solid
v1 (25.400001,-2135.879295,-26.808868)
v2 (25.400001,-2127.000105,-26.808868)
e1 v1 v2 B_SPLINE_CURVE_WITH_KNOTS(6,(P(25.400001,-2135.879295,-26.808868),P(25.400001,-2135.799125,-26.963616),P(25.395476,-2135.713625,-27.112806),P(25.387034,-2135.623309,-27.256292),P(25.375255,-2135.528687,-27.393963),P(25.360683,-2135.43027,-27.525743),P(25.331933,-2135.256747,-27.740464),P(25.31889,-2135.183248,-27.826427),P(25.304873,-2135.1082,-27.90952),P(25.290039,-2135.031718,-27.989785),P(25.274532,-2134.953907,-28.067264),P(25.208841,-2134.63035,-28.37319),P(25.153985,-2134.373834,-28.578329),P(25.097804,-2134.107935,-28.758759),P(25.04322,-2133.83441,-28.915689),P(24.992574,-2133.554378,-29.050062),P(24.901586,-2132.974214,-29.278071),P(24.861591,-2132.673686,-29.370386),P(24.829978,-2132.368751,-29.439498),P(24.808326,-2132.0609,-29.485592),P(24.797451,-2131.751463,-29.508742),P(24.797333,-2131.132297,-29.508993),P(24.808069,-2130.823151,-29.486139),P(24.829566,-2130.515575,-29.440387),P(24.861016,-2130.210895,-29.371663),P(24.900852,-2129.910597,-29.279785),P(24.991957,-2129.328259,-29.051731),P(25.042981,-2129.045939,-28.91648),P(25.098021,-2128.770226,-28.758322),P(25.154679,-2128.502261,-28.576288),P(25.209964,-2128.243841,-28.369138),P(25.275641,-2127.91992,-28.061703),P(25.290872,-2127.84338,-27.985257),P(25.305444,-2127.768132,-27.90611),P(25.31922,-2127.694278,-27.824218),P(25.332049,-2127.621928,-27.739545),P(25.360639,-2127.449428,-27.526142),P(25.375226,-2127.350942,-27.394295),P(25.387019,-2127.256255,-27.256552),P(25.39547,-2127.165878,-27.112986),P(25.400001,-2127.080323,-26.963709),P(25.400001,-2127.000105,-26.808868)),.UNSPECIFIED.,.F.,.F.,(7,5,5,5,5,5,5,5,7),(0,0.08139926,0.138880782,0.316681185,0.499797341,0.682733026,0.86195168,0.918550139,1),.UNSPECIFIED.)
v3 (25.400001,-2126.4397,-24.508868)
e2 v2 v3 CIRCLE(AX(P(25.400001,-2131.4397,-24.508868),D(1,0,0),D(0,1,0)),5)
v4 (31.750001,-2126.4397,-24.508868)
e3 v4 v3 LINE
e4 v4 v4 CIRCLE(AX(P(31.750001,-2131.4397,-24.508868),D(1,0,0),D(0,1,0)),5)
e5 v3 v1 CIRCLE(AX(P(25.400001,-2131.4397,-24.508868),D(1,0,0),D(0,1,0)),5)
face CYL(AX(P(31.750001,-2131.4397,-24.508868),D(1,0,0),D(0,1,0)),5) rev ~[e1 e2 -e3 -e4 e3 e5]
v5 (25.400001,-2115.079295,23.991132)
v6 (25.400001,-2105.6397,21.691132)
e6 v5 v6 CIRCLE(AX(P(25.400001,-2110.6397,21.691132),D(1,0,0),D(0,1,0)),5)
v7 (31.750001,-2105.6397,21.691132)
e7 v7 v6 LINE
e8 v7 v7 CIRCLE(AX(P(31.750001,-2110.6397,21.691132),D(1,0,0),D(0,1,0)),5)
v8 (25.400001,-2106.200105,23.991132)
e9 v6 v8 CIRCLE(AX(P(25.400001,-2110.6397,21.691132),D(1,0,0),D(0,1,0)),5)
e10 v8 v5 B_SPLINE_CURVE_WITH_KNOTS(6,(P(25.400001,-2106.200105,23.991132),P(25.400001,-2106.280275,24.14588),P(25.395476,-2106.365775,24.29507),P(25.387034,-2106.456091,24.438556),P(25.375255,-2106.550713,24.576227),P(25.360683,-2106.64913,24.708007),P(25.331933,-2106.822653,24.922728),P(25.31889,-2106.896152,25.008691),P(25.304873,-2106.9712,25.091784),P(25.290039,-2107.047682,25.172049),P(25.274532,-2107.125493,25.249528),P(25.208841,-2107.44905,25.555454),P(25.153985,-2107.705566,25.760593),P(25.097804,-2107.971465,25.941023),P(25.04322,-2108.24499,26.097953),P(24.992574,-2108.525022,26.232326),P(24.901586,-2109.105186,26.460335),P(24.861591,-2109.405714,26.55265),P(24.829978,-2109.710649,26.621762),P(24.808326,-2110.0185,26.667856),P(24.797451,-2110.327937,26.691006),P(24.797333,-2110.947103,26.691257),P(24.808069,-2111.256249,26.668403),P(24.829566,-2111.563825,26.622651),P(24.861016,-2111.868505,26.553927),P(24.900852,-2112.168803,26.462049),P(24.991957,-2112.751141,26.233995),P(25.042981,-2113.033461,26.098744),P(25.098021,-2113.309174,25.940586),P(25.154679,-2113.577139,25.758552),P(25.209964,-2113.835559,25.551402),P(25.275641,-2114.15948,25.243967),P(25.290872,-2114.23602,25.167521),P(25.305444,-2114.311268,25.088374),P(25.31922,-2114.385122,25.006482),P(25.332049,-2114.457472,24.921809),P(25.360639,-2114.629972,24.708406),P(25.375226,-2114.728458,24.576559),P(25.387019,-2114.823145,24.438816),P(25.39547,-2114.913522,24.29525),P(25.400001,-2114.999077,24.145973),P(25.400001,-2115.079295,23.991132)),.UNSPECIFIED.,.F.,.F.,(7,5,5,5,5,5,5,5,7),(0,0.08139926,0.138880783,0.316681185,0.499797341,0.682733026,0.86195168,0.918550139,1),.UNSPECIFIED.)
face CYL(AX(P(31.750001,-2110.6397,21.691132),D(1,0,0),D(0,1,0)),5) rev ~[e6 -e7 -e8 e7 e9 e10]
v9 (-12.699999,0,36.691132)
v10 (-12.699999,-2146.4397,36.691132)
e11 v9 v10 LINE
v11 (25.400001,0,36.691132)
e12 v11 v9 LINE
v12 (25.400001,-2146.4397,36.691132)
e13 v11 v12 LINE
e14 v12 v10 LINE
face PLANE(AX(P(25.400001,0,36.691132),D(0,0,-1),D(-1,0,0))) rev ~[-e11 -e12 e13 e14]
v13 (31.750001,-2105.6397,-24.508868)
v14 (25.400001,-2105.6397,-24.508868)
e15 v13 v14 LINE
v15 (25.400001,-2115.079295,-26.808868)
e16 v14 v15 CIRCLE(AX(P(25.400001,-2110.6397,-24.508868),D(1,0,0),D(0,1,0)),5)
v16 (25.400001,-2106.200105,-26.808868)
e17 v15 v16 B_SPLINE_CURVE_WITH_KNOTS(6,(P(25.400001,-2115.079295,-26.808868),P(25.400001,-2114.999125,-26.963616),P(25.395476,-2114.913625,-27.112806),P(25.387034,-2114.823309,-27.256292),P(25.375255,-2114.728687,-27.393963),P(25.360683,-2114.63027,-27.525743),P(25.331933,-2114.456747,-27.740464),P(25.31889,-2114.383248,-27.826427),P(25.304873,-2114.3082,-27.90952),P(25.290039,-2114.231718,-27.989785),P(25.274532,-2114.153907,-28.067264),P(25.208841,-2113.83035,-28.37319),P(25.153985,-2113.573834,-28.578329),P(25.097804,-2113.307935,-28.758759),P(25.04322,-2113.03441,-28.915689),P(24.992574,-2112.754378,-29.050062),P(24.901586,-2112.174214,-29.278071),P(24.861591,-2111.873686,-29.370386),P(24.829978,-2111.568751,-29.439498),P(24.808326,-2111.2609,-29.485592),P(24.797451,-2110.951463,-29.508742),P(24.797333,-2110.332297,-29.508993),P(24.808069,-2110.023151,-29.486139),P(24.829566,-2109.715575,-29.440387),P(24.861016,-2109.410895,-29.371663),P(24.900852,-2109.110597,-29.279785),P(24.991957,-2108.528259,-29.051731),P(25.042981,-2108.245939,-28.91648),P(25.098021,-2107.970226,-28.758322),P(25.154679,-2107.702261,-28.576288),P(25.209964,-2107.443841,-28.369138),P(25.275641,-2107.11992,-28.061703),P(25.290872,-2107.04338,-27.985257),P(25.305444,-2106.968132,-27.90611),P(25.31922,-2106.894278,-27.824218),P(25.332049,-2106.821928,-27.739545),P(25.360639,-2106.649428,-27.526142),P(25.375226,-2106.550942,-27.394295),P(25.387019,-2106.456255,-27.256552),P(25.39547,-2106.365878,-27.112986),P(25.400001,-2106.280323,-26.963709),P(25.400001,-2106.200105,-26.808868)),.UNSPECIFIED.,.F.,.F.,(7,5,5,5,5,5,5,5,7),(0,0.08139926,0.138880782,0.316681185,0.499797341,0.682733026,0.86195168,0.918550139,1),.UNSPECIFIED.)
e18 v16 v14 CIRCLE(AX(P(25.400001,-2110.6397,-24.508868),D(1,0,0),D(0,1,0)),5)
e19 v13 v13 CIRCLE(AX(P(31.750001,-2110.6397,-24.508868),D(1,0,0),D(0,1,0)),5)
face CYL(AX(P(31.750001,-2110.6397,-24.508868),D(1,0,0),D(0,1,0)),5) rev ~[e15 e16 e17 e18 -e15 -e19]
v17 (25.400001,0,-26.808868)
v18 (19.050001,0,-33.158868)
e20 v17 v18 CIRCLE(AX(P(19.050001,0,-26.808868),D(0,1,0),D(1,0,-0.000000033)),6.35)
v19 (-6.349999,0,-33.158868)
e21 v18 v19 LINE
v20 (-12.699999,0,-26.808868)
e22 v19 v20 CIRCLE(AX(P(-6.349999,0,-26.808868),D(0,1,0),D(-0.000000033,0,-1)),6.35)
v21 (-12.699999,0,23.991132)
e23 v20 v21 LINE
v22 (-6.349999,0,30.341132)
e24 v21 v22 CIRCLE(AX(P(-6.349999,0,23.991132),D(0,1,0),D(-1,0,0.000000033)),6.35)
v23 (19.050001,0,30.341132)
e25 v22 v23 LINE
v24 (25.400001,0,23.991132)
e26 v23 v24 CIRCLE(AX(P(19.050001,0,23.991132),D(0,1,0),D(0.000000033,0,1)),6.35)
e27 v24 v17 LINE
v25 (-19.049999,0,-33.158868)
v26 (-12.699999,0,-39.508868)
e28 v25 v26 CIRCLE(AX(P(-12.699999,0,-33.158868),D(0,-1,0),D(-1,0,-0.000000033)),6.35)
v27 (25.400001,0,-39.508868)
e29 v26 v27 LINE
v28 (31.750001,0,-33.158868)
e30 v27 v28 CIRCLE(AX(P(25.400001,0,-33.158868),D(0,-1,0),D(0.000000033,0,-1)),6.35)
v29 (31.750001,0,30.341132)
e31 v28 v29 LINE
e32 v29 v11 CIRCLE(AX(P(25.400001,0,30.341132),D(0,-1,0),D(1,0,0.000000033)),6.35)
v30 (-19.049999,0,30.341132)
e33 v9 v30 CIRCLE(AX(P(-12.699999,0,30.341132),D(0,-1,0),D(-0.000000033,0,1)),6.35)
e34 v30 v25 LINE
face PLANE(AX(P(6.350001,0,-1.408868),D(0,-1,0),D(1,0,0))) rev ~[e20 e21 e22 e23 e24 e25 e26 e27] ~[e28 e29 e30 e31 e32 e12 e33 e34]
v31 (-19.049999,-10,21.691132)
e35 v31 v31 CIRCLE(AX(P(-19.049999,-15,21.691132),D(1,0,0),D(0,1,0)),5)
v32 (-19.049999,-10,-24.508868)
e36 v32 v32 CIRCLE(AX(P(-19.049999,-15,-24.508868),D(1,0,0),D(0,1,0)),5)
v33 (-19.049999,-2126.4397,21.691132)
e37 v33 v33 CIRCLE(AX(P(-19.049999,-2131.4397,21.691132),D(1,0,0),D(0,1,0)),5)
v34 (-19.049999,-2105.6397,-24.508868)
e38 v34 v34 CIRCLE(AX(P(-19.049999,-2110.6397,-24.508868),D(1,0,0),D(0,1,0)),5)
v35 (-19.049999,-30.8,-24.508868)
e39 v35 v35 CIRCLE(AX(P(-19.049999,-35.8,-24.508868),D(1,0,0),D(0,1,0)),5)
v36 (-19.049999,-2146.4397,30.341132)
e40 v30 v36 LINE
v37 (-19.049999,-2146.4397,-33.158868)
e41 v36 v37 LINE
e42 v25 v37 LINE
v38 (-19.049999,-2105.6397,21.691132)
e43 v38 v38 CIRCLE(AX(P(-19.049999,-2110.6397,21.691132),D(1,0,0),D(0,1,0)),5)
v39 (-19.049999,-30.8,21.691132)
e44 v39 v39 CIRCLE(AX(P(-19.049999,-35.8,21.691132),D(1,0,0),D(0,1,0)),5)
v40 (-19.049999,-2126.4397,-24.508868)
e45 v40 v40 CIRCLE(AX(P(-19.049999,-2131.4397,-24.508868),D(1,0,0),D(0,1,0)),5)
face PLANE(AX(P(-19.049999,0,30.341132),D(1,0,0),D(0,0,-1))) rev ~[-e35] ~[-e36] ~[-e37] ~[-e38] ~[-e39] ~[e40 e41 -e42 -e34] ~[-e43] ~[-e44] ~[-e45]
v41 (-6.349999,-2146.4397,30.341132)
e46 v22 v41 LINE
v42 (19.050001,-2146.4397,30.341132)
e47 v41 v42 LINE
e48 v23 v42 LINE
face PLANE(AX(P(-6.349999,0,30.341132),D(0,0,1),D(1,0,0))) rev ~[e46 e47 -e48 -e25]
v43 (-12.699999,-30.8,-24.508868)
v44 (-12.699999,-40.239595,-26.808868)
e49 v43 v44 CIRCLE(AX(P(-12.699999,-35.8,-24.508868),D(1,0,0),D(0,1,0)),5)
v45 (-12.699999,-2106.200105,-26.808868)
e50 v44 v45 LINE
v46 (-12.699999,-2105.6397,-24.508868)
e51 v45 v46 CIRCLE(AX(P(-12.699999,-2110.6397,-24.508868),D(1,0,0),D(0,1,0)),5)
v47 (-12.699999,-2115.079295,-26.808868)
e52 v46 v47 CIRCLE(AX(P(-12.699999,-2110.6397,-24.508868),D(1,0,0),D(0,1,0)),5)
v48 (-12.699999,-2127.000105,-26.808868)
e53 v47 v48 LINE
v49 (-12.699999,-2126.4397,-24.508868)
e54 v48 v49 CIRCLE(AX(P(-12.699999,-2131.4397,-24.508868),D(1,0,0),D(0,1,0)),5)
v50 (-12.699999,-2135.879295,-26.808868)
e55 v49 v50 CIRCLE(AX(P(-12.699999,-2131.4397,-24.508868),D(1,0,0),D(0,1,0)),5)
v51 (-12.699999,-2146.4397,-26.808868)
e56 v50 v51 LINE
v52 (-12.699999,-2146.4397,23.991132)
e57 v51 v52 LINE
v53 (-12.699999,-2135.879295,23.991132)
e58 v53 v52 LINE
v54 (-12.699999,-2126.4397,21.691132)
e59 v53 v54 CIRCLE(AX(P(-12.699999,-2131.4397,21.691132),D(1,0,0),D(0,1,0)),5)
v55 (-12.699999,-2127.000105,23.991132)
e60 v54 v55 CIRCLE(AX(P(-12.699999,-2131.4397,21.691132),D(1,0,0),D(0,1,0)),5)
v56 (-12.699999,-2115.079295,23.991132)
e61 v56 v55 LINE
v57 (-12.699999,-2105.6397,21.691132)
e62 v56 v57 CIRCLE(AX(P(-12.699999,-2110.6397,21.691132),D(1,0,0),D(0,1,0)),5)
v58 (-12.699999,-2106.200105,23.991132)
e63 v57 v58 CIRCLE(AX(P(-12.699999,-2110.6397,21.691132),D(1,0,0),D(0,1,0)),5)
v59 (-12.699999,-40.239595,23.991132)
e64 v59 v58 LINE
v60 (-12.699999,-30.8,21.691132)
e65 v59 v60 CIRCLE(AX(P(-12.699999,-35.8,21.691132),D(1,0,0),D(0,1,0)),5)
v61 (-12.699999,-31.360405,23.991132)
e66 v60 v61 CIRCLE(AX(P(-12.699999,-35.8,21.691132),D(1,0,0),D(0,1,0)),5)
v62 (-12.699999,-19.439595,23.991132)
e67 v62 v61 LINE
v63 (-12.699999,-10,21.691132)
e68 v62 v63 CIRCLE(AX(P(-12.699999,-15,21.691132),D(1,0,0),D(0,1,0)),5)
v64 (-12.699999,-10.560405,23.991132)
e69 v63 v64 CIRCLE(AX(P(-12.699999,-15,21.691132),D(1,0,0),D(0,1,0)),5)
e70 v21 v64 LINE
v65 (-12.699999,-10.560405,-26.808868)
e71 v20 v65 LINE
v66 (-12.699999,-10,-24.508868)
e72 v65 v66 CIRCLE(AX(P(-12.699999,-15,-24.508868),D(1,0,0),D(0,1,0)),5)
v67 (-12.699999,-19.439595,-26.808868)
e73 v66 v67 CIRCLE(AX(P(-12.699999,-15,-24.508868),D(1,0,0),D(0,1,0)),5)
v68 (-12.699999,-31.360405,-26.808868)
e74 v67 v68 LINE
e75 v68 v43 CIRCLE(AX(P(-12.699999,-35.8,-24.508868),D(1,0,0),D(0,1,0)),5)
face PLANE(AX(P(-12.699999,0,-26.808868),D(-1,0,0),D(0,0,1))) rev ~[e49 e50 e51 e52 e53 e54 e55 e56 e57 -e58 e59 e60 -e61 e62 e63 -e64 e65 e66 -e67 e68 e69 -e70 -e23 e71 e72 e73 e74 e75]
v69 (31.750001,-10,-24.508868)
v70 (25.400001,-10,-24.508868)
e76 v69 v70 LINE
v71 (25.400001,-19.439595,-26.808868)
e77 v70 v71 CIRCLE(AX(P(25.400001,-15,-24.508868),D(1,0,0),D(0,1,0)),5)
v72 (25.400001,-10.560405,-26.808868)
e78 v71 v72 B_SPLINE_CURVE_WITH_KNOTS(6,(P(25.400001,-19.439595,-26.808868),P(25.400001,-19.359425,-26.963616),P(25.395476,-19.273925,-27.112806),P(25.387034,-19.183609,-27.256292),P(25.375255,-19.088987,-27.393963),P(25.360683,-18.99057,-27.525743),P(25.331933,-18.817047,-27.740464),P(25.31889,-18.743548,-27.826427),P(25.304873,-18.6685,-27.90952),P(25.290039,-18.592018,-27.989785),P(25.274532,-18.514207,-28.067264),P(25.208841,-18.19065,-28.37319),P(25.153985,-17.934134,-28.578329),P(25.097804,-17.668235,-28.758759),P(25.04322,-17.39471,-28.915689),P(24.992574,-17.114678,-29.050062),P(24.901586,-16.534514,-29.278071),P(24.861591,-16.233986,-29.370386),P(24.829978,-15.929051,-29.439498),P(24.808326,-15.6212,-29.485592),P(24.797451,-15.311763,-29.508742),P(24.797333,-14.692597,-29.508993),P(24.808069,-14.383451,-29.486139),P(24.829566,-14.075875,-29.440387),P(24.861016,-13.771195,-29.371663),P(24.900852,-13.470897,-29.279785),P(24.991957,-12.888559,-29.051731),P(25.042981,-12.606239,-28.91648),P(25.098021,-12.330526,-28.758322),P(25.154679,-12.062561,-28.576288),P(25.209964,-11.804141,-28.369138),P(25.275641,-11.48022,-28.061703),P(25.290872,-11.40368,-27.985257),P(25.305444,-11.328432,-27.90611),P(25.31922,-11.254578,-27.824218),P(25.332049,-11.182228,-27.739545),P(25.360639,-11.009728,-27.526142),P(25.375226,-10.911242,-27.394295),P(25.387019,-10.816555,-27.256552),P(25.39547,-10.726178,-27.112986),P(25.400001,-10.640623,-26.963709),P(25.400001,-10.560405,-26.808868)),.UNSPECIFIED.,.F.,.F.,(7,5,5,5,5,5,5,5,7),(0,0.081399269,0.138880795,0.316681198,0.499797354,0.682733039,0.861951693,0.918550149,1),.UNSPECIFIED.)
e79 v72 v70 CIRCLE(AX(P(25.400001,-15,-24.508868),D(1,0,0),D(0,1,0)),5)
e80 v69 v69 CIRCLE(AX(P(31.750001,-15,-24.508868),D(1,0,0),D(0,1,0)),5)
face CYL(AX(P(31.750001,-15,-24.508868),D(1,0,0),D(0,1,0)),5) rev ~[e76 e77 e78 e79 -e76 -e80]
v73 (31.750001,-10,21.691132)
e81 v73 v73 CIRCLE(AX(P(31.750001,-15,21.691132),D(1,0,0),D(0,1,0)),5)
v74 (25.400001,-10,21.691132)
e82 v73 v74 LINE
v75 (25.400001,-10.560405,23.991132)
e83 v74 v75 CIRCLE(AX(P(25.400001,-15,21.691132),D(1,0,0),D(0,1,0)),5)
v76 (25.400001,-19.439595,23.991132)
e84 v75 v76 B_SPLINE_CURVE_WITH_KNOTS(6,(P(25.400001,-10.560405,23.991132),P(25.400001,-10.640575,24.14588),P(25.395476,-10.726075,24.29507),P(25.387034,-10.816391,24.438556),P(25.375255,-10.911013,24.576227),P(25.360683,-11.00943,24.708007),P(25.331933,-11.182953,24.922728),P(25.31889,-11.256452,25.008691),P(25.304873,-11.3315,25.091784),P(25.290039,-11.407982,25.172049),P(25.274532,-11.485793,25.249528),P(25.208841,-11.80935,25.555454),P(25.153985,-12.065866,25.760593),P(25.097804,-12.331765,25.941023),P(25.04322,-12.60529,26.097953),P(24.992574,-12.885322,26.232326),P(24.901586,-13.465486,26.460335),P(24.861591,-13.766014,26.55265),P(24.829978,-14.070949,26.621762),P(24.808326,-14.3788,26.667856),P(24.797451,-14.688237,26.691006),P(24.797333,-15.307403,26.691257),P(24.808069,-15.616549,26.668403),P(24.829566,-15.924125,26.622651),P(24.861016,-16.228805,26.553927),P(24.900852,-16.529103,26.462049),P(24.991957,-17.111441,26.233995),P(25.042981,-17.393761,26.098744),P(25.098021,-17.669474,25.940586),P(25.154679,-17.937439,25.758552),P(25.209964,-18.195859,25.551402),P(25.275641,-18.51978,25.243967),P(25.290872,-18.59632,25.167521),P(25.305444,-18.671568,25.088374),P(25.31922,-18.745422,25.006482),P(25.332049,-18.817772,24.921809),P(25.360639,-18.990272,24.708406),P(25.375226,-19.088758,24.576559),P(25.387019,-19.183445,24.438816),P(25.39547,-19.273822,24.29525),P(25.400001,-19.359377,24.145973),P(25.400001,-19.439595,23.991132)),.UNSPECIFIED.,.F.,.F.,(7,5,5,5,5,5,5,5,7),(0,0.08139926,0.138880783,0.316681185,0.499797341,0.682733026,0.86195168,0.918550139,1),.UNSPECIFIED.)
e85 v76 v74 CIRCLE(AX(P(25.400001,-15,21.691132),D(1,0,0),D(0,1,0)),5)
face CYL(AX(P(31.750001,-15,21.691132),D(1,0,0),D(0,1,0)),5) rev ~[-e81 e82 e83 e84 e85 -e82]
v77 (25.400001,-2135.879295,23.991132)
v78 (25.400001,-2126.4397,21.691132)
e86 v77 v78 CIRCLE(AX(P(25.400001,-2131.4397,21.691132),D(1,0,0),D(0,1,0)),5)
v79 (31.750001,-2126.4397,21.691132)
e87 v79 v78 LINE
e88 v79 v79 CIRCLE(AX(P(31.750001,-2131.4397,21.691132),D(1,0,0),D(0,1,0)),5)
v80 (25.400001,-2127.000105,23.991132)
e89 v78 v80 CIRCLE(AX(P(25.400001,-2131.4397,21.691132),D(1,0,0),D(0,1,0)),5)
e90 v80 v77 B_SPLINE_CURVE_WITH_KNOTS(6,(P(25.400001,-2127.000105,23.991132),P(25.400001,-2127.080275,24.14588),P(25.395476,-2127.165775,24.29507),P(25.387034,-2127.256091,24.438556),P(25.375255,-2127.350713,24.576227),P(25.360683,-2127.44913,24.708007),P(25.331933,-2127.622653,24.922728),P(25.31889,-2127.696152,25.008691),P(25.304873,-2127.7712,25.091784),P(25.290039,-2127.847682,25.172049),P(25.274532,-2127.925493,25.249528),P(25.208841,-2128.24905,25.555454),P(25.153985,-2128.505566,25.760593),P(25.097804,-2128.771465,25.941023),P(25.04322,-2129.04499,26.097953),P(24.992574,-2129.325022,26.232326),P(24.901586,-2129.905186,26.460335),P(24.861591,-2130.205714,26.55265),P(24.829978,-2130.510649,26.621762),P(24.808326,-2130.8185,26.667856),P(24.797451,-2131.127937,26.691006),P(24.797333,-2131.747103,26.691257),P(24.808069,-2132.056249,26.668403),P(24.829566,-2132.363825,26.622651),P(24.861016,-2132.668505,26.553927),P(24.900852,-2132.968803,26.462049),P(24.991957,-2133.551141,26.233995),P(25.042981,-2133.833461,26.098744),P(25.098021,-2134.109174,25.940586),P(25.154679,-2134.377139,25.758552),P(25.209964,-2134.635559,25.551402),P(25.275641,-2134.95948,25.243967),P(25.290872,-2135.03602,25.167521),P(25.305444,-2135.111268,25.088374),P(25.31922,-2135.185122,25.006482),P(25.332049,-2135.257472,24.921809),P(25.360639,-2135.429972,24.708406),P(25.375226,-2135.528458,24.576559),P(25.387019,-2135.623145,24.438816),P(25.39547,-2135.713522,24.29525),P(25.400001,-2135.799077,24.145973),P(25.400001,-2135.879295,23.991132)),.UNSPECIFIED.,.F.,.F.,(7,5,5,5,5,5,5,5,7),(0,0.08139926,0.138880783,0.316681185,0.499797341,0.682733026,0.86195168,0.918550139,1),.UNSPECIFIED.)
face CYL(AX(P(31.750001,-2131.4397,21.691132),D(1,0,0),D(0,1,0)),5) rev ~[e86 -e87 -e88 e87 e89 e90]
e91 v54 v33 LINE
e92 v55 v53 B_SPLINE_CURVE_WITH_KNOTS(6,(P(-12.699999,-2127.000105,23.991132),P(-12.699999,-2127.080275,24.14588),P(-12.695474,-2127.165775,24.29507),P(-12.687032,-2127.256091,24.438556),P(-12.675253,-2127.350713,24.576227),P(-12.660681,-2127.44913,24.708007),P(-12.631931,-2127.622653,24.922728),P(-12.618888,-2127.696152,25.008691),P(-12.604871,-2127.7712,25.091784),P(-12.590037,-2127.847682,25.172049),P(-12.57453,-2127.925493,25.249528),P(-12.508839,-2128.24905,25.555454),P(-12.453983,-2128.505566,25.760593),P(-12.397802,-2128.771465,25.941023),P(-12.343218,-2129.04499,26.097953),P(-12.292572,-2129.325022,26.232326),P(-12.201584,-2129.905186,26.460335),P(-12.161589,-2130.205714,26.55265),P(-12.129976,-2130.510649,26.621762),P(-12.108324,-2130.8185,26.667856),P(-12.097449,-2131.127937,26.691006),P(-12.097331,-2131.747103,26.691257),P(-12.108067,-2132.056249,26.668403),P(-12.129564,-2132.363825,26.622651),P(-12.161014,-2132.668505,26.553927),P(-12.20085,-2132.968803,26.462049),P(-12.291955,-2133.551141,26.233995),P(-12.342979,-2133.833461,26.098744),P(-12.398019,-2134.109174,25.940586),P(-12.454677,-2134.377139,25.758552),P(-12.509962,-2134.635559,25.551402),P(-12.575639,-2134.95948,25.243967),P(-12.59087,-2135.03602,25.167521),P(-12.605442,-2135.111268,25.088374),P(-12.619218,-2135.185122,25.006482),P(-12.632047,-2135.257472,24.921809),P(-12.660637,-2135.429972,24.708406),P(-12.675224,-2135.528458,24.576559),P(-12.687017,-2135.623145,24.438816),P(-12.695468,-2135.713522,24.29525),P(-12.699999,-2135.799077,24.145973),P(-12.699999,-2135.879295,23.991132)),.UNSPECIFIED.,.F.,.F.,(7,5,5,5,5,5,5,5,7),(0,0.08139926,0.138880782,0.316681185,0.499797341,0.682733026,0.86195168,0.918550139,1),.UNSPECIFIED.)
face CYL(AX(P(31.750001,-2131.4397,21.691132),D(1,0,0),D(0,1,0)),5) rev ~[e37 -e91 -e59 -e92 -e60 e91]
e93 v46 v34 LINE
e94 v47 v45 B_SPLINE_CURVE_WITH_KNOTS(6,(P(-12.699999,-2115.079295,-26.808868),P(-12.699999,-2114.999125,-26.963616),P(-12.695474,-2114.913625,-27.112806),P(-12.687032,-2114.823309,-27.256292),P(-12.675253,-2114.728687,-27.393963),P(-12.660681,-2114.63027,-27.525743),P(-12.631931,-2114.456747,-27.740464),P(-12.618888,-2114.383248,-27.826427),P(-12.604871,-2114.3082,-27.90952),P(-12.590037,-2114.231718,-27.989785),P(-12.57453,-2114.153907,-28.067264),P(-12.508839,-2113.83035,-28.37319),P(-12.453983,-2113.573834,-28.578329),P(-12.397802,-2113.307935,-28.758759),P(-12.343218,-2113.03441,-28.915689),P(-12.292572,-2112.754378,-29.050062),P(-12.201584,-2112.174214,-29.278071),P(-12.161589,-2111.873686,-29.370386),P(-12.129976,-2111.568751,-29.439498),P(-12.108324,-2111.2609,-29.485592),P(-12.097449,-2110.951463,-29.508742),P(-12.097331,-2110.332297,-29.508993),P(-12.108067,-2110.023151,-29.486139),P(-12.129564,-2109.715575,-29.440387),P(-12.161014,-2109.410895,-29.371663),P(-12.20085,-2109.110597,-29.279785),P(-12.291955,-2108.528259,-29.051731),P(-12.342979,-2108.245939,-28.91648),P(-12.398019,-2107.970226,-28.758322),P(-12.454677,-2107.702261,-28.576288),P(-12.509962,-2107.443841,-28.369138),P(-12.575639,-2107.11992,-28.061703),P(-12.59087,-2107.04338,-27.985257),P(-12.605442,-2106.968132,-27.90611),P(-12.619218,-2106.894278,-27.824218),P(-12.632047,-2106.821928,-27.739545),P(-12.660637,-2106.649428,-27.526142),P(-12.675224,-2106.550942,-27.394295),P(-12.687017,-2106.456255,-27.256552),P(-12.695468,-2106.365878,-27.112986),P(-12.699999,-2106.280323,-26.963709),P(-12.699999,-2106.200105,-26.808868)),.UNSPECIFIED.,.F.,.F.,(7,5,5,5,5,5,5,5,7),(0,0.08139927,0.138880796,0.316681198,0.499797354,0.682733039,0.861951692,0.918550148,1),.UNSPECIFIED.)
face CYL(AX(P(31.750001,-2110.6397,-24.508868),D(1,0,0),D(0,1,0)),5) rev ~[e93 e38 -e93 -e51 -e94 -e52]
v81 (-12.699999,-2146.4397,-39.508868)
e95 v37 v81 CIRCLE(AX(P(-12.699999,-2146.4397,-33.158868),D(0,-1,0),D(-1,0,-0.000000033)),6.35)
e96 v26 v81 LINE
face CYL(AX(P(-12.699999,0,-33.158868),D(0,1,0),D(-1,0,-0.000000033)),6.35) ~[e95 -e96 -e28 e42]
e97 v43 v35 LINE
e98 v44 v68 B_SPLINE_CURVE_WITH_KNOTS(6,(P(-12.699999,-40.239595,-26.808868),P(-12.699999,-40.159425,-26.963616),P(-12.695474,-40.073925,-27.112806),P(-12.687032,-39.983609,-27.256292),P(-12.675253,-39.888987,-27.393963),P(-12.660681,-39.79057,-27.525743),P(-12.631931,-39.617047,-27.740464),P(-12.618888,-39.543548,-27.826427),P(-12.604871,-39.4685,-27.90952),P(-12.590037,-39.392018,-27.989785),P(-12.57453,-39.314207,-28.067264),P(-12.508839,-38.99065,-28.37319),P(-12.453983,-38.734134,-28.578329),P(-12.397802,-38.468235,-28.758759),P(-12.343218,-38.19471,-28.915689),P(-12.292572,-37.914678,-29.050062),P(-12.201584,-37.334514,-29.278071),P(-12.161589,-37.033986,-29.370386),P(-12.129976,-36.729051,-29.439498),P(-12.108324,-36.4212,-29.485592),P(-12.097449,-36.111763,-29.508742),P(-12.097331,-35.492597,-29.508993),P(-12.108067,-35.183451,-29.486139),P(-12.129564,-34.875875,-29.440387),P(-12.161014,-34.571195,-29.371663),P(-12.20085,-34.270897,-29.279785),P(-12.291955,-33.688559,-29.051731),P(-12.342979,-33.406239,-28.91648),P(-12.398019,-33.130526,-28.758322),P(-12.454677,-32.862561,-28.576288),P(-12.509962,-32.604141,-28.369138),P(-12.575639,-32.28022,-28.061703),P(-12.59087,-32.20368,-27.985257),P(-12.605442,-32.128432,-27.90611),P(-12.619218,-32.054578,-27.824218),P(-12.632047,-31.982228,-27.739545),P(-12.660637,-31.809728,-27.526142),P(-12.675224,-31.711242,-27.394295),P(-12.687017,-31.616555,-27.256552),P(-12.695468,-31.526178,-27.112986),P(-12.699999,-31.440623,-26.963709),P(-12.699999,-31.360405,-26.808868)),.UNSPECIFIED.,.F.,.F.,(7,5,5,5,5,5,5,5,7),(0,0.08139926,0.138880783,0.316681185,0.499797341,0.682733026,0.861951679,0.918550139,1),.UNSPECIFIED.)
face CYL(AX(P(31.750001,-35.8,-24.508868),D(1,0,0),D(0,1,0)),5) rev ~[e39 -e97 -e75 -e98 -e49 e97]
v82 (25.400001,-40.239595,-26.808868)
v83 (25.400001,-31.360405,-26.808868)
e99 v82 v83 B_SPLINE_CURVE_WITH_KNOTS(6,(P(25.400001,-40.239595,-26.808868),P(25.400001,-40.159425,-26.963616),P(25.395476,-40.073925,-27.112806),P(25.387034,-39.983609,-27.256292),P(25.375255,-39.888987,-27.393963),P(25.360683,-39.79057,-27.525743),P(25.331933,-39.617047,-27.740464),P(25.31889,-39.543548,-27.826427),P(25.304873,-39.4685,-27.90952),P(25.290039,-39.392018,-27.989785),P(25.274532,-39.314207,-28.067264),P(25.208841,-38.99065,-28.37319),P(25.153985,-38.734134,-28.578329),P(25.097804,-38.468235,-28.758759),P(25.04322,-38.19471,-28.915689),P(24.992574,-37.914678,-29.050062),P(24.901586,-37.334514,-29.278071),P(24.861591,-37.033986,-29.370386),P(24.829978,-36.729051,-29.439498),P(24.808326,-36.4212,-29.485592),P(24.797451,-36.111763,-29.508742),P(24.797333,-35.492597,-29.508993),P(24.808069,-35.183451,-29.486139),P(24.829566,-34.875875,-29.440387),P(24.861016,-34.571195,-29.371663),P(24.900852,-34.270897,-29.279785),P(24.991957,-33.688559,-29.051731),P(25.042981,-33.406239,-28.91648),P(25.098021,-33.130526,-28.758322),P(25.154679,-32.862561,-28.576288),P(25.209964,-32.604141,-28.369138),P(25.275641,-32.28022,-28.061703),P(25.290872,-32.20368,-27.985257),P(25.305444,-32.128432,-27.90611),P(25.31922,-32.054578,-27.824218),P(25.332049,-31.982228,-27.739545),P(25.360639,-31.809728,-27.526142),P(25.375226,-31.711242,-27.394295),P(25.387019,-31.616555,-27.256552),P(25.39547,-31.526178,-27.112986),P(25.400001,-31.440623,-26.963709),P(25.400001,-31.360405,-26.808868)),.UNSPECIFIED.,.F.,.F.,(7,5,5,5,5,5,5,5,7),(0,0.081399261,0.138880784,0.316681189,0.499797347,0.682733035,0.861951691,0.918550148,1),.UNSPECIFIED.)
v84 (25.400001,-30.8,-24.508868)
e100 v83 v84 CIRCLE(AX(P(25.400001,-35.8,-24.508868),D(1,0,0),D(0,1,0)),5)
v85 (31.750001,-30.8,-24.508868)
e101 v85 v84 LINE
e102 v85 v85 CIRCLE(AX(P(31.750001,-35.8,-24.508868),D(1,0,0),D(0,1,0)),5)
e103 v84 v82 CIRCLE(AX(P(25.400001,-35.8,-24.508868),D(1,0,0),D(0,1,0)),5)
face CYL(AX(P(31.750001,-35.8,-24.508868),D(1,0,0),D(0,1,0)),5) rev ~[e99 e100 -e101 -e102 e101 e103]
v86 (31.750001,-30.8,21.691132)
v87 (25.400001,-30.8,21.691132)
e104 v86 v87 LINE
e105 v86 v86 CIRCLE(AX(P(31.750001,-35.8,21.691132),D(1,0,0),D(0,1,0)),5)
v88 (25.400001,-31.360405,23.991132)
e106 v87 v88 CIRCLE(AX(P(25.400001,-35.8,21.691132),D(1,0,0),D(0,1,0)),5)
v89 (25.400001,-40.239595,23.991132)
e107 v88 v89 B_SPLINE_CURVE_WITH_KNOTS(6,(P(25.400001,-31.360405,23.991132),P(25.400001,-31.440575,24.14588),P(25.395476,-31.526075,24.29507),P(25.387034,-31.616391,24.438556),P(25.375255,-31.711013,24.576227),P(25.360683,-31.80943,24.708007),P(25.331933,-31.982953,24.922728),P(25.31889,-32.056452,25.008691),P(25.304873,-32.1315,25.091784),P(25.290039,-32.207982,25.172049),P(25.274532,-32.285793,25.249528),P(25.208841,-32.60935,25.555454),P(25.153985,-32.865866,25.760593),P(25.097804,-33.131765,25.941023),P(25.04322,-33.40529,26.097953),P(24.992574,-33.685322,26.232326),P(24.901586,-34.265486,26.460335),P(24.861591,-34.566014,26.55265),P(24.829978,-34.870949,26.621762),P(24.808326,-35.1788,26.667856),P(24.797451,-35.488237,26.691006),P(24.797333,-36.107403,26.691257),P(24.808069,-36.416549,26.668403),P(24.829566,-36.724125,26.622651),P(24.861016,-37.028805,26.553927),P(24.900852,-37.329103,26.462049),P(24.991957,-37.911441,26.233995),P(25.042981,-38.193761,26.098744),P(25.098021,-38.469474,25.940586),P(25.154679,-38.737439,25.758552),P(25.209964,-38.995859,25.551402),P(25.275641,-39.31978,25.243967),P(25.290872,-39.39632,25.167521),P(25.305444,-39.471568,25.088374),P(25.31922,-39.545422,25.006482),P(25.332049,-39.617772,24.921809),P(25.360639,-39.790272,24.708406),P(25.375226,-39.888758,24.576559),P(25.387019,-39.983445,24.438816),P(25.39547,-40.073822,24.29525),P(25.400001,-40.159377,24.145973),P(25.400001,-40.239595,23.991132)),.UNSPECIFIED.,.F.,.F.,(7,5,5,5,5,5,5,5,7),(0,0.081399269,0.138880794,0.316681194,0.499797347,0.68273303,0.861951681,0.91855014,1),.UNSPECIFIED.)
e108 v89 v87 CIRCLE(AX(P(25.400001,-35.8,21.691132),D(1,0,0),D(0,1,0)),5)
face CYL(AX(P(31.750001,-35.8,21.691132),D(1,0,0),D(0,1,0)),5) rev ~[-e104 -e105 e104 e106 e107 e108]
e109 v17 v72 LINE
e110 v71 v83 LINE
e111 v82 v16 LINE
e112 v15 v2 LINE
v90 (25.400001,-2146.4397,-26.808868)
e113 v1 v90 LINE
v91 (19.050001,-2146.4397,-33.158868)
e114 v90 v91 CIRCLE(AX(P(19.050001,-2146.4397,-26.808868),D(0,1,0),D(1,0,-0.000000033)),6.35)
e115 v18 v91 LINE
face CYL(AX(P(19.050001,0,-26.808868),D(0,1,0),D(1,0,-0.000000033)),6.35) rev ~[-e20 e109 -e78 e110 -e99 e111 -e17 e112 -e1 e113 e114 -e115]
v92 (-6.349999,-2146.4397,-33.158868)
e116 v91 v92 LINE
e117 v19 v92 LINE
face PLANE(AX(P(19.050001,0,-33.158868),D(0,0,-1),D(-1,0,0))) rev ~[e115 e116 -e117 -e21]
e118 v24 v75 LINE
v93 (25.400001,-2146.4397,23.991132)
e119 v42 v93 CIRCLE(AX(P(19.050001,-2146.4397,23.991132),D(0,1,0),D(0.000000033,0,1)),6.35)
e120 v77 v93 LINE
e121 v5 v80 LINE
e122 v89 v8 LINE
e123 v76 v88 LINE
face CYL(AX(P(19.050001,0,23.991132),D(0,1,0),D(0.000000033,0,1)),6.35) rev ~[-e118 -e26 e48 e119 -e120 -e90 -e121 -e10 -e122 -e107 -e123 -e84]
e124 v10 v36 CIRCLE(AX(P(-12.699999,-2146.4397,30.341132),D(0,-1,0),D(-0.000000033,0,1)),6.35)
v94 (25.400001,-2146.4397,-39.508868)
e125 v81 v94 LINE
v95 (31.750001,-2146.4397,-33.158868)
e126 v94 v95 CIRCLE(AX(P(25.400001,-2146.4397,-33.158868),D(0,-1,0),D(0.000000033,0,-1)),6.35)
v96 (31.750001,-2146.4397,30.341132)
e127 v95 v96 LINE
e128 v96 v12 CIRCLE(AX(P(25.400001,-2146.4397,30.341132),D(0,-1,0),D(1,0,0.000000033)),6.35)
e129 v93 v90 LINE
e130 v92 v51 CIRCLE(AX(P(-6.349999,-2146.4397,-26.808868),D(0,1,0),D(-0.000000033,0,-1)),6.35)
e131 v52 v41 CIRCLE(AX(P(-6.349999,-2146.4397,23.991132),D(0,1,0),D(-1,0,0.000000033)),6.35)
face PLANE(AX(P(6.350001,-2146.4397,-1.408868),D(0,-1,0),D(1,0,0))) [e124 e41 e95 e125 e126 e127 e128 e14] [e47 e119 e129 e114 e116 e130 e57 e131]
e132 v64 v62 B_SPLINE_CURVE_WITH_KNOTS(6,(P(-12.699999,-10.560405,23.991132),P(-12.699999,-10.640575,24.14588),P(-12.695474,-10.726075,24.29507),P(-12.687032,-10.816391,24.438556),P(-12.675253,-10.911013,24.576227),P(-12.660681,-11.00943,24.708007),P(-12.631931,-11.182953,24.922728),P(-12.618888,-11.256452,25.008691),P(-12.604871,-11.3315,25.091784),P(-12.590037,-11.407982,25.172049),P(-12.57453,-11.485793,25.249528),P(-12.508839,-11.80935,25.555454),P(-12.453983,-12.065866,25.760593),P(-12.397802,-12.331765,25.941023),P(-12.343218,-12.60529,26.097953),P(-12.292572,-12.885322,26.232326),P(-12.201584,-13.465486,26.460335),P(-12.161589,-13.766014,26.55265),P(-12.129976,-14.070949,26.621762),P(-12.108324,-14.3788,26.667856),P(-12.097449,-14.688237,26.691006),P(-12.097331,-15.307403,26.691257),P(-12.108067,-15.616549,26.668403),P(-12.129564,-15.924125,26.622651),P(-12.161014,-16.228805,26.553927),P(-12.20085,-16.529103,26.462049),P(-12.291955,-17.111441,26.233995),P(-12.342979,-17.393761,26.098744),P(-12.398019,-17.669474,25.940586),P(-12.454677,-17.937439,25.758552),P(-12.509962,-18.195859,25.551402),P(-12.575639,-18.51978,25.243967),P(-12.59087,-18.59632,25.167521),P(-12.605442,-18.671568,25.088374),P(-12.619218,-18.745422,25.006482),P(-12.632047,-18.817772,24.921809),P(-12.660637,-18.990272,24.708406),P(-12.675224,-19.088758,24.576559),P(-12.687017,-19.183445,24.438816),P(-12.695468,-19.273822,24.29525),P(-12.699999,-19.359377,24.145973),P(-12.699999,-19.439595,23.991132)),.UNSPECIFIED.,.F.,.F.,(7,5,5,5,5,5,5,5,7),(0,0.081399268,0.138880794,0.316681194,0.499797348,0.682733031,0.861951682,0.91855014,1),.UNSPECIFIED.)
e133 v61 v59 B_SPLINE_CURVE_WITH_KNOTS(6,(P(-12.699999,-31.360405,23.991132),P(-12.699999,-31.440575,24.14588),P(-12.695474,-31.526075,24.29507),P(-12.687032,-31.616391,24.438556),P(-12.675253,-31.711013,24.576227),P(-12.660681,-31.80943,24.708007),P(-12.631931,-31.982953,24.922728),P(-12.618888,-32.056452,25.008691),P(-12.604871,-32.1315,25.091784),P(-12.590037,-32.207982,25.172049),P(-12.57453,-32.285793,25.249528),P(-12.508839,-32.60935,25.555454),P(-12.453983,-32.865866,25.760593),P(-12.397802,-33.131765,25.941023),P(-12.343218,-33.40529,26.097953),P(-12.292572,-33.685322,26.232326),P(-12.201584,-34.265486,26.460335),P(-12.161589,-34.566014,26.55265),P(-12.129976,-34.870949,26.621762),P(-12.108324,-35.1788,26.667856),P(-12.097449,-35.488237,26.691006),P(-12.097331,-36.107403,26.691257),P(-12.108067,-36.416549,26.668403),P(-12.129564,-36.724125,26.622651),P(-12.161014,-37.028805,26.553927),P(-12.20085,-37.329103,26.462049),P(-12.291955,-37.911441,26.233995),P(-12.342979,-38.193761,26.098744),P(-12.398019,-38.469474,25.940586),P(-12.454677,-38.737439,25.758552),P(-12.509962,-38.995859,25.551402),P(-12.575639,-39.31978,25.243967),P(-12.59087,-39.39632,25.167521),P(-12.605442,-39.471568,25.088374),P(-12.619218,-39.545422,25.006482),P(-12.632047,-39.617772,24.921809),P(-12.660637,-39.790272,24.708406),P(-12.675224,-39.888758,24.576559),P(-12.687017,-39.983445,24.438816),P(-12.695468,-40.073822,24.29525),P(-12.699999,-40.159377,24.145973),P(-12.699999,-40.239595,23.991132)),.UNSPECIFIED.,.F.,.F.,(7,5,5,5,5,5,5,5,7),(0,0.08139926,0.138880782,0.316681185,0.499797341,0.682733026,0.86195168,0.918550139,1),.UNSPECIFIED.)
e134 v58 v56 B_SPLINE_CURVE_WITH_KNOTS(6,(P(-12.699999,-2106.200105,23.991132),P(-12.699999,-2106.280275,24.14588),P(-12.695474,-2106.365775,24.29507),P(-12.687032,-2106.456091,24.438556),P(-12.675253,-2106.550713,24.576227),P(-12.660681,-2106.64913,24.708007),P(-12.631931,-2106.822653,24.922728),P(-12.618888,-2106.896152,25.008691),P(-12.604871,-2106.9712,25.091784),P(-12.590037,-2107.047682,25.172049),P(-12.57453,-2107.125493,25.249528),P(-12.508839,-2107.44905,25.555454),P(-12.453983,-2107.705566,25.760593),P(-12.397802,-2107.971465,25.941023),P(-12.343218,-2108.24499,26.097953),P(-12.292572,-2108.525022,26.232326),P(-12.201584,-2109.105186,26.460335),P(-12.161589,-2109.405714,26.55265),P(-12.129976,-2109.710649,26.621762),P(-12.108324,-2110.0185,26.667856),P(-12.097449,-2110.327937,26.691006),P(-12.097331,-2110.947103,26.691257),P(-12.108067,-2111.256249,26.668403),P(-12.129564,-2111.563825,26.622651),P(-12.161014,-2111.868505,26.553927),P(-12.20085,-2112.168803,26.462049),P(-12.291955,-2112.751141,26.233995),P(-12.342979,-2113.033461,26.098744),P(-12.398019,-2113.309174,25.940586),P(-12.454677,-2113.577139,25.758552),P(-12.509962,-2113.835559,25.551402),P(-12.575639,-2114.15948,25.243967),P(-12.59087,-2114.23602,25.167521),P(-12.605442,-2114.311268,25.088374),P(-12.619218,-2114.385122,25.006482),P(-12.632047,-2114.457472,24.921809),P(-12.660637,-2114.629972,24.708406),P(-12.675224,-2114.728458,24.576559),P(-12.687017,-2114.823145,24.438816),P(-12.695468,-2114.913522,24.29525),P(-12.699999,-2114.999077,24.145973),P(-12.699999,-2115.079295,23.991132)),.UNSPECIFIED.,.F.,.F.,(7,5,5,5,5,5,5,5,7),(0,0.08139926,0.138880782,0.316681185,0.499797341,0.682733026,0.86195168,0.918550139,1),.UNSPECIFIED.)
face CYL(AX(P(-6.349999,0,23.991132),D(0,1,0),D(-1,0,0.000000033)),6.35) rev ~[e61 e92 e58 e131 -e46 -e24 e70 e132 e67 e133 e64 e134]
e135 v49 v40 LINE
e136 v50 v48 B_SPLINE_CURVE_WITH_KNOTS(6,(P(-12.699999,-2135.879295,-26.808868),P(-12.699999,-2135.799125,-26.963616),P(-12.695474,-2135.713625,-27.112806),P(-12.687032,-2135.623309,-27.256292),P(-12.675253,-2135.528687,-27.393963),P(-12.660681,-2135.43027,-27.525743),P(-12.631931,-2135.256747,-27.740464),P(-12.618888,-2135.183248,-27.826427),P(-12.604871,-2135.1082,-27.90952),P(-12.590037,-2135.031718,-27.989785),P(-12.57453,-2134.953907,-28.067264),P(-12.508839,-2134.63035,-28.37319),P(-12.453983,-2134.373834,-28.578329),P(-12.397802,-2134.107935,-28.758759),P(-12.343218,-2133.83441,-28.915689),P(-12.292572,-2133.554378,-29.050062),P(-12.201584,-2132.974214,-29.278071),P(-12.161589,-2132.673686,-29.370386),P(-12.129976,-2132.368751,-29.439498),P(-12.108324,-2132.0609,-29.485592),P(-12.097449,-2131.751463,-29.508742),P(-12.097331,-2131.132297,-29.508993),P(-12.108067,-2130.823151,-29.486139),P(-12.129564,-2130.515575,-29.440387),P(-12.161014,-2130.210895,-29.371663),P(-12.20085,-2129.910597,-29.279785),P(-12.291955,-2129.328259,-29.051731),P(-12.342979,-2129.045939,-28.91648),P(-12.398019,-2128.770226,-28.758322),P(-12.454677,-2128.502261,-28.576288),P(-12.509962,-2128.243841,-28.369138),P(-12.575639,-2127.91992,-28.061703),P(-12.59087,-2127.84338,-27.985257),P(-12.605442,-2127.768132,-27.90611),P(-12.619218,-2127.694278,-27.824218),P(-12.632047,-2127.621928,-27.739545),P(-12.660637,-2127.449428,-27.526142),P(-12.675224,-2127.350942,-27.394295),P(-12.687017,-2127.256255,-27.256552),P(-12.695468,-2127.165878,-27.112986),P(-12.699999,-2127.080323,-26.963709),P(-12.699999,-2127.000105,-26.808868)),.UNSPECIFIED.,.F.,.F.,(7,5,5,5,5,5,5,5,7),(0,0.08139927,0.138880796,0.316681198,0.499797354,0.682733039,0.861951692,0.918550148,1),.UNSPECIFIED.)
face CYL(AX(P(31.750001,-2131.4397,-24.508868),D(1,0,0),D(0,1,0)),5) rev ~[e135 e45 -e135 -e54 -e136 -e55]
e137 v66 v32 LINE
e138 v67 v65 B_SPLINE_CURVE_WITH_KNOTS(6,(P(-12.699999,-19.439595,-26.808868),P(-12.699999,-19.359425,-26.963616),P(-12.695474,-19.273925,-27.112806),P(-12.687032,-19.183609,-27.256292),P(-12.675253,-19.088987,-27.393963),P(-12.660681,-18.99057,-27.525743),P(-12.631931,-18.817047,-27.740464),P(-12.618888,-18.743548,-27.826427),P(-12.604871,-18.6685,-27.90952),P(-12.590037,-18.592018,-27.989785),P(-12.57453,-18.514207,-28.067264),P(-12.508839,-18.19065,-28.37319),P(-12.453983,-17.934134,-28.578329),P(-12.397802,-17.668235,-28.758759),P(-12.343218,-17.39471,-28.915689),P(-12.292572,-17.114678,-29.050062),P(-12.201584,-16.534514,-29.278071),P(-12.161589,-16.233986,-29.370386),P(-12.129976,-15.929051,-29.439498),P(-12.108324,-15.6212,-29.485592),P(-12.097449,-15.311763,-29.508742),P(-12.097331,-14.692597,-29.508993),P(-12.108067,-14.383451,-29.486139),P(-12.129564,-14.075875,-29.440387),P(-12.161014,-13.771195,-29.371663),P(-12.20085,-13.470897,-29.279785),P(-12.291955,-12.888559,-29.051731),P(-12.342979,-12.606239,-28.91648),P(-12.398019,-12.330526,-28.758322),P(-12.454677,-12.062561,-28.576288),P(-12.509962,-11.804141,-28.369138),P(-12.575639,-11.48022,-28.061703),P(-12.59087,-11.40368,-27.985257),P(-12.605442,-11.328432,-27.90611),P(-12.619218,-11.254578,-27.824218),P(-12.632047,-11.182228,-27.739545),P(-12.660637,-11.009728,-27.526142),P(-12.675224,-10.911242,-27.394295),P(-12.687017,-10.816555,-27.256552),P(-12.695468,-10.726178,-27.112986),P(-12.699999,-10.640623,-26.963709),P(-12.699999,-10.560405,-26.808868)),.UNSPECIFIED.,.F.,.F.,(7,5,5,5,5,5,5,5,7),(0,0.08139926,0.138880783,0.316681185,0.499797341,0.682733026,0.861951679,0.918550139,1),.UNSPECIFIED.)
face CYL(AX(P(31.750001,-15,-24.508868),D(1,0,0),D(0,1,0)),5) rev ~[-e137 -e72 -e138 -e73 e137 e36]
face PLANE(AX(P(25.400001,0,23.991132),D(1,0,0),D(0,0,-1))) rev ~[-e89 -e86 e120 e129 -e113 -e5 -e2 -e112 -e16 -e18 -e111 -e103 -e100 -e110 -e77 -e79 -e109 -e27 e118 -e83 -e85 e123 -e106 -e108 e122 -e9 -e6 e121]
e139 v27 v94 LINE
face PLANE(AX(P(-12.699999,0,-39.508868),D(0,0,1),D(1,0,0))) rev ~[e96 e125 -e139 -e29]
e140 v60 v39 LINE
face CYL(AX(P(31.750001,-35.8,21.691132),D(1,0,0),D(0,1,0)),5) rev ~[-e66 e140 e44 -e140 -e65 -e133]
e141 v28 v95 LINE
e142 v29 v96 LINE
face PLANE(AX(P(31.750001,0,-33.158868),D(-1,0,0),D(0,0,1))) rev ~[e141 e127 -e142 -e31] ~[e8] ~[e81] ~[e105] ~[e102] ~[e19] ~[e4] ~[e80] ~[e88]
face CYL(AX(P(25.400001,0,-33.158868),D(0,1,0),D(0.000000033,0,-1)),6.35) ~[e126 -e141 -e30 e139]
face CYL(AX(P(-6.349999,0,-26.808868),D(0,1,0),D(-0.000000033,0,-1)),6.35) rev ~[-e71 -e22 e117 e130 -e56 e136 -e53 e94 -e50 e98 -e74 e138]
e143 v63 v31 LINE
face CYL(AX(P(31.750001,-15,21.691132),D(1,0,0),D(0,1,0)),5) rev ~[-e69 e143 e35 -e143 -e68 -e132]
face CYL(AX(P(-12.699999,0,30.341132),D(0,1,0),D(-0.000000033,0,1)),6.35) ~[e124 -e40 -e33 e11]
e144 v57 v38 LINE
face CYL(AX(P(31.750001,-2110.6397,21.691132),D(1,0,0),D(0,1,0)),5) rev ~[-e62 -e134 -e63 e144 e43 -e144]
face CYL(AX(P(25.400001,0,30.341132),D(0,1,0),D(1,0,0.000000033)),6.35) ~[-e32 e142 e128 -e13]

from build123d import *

# Parameters (mm, degrees)
F1_DEPTH = 2146.4397
F2_R     = 5
F3_DEPTH = 50.801


with BuildPart() as f1:
    # F0 (on Front) → F1 (new body)
    with BuildSketch(Plane.XZ):
        with BuildLine():
            Line((25.400001, 36.691132), (-12.699999, 36.691132))
            ThreePointArc((-12.699999, 36.691132), (-17.190127, 34.83126), (-19.049999, 30.341132))
            Line((-19.049999, 30.341132), (-19.049999, -33.158868))
            ThreePointArc((-19.049999, -33.158868), (-17.190127, -37.648996), (-12.699999, -39.508868))
            Line((-12.699999, -39.508868), (25.400001, -39.508868))
            ThreePointArc((25.400001, -39.508868), (29.890129, -37.648996), (31.750001, -33.158868))
            Line((31.750001, -33.158868), (31.750001, 30.341132))
            ThreePointArc((31.750001, 30.341132), (29.890129, 34.83126), (25.400001, 36.691132))
        make_face()
        with BuildLine():
            ThreePointArc((-12.699999, 23.991132), (-10.840127, 28.48126), (-6.349999, 30.341132))
            Line((-6.349999, 30.341132), (19.050001, 30.341132))
            ThreePointArc((19.050001, 30.341132), (23.540129, 28.48126), (25.400001, 23.991132))
            Line((25.400001, 23.991132), (25.400001, -26.808868))
            ThreePointArc((25.400001, -26.808868), (23.540129, -31.298996), (19.050001, -33.158868))
            Line((19.050001, -33.158868), (-6.349999, -33.158868))
            ThreePointArc((-6.349999, -33.158868), (-10.840127, -31.298996), (-12.699999, -26.808868))
            Line((-12.699999, -26.808868), (-12.699999, 23.991132))
        make_face(mode=Mode.SUBTRACT)
    extrude(amount=F1_DEPTH)

    # F2 (on face) → F3 (cut, through all)
    with BuildSketch(Plane.YZ.offset(31.750001)):
        with Locations((-2131.4397, 21.691132)):
            Circle(F2_R)
        with Locations((-2110.6397, 21.691132)):
            Circle(F2_R)
        with Locations((-2131.4397, -24.508868)):
            Circle(F2_R)
        with Locations((-2110.6397, -24.508868)):
            Circle(F2_R)
        with Locations((-35.8, 21.691132)):
            Circle(F2_R)
        with Locations((-35.8, -24.508868)):
            Circle(F2_R)
        with Locations((-15, 21.691132)):
            Circle(F2_R)
        with Locations((-15, -24.508868)):
            Circle(F2_R)
    extrude(amount=-F3_DEPTH, mode=Mode.SUBTRACT)


solid = f1.part
